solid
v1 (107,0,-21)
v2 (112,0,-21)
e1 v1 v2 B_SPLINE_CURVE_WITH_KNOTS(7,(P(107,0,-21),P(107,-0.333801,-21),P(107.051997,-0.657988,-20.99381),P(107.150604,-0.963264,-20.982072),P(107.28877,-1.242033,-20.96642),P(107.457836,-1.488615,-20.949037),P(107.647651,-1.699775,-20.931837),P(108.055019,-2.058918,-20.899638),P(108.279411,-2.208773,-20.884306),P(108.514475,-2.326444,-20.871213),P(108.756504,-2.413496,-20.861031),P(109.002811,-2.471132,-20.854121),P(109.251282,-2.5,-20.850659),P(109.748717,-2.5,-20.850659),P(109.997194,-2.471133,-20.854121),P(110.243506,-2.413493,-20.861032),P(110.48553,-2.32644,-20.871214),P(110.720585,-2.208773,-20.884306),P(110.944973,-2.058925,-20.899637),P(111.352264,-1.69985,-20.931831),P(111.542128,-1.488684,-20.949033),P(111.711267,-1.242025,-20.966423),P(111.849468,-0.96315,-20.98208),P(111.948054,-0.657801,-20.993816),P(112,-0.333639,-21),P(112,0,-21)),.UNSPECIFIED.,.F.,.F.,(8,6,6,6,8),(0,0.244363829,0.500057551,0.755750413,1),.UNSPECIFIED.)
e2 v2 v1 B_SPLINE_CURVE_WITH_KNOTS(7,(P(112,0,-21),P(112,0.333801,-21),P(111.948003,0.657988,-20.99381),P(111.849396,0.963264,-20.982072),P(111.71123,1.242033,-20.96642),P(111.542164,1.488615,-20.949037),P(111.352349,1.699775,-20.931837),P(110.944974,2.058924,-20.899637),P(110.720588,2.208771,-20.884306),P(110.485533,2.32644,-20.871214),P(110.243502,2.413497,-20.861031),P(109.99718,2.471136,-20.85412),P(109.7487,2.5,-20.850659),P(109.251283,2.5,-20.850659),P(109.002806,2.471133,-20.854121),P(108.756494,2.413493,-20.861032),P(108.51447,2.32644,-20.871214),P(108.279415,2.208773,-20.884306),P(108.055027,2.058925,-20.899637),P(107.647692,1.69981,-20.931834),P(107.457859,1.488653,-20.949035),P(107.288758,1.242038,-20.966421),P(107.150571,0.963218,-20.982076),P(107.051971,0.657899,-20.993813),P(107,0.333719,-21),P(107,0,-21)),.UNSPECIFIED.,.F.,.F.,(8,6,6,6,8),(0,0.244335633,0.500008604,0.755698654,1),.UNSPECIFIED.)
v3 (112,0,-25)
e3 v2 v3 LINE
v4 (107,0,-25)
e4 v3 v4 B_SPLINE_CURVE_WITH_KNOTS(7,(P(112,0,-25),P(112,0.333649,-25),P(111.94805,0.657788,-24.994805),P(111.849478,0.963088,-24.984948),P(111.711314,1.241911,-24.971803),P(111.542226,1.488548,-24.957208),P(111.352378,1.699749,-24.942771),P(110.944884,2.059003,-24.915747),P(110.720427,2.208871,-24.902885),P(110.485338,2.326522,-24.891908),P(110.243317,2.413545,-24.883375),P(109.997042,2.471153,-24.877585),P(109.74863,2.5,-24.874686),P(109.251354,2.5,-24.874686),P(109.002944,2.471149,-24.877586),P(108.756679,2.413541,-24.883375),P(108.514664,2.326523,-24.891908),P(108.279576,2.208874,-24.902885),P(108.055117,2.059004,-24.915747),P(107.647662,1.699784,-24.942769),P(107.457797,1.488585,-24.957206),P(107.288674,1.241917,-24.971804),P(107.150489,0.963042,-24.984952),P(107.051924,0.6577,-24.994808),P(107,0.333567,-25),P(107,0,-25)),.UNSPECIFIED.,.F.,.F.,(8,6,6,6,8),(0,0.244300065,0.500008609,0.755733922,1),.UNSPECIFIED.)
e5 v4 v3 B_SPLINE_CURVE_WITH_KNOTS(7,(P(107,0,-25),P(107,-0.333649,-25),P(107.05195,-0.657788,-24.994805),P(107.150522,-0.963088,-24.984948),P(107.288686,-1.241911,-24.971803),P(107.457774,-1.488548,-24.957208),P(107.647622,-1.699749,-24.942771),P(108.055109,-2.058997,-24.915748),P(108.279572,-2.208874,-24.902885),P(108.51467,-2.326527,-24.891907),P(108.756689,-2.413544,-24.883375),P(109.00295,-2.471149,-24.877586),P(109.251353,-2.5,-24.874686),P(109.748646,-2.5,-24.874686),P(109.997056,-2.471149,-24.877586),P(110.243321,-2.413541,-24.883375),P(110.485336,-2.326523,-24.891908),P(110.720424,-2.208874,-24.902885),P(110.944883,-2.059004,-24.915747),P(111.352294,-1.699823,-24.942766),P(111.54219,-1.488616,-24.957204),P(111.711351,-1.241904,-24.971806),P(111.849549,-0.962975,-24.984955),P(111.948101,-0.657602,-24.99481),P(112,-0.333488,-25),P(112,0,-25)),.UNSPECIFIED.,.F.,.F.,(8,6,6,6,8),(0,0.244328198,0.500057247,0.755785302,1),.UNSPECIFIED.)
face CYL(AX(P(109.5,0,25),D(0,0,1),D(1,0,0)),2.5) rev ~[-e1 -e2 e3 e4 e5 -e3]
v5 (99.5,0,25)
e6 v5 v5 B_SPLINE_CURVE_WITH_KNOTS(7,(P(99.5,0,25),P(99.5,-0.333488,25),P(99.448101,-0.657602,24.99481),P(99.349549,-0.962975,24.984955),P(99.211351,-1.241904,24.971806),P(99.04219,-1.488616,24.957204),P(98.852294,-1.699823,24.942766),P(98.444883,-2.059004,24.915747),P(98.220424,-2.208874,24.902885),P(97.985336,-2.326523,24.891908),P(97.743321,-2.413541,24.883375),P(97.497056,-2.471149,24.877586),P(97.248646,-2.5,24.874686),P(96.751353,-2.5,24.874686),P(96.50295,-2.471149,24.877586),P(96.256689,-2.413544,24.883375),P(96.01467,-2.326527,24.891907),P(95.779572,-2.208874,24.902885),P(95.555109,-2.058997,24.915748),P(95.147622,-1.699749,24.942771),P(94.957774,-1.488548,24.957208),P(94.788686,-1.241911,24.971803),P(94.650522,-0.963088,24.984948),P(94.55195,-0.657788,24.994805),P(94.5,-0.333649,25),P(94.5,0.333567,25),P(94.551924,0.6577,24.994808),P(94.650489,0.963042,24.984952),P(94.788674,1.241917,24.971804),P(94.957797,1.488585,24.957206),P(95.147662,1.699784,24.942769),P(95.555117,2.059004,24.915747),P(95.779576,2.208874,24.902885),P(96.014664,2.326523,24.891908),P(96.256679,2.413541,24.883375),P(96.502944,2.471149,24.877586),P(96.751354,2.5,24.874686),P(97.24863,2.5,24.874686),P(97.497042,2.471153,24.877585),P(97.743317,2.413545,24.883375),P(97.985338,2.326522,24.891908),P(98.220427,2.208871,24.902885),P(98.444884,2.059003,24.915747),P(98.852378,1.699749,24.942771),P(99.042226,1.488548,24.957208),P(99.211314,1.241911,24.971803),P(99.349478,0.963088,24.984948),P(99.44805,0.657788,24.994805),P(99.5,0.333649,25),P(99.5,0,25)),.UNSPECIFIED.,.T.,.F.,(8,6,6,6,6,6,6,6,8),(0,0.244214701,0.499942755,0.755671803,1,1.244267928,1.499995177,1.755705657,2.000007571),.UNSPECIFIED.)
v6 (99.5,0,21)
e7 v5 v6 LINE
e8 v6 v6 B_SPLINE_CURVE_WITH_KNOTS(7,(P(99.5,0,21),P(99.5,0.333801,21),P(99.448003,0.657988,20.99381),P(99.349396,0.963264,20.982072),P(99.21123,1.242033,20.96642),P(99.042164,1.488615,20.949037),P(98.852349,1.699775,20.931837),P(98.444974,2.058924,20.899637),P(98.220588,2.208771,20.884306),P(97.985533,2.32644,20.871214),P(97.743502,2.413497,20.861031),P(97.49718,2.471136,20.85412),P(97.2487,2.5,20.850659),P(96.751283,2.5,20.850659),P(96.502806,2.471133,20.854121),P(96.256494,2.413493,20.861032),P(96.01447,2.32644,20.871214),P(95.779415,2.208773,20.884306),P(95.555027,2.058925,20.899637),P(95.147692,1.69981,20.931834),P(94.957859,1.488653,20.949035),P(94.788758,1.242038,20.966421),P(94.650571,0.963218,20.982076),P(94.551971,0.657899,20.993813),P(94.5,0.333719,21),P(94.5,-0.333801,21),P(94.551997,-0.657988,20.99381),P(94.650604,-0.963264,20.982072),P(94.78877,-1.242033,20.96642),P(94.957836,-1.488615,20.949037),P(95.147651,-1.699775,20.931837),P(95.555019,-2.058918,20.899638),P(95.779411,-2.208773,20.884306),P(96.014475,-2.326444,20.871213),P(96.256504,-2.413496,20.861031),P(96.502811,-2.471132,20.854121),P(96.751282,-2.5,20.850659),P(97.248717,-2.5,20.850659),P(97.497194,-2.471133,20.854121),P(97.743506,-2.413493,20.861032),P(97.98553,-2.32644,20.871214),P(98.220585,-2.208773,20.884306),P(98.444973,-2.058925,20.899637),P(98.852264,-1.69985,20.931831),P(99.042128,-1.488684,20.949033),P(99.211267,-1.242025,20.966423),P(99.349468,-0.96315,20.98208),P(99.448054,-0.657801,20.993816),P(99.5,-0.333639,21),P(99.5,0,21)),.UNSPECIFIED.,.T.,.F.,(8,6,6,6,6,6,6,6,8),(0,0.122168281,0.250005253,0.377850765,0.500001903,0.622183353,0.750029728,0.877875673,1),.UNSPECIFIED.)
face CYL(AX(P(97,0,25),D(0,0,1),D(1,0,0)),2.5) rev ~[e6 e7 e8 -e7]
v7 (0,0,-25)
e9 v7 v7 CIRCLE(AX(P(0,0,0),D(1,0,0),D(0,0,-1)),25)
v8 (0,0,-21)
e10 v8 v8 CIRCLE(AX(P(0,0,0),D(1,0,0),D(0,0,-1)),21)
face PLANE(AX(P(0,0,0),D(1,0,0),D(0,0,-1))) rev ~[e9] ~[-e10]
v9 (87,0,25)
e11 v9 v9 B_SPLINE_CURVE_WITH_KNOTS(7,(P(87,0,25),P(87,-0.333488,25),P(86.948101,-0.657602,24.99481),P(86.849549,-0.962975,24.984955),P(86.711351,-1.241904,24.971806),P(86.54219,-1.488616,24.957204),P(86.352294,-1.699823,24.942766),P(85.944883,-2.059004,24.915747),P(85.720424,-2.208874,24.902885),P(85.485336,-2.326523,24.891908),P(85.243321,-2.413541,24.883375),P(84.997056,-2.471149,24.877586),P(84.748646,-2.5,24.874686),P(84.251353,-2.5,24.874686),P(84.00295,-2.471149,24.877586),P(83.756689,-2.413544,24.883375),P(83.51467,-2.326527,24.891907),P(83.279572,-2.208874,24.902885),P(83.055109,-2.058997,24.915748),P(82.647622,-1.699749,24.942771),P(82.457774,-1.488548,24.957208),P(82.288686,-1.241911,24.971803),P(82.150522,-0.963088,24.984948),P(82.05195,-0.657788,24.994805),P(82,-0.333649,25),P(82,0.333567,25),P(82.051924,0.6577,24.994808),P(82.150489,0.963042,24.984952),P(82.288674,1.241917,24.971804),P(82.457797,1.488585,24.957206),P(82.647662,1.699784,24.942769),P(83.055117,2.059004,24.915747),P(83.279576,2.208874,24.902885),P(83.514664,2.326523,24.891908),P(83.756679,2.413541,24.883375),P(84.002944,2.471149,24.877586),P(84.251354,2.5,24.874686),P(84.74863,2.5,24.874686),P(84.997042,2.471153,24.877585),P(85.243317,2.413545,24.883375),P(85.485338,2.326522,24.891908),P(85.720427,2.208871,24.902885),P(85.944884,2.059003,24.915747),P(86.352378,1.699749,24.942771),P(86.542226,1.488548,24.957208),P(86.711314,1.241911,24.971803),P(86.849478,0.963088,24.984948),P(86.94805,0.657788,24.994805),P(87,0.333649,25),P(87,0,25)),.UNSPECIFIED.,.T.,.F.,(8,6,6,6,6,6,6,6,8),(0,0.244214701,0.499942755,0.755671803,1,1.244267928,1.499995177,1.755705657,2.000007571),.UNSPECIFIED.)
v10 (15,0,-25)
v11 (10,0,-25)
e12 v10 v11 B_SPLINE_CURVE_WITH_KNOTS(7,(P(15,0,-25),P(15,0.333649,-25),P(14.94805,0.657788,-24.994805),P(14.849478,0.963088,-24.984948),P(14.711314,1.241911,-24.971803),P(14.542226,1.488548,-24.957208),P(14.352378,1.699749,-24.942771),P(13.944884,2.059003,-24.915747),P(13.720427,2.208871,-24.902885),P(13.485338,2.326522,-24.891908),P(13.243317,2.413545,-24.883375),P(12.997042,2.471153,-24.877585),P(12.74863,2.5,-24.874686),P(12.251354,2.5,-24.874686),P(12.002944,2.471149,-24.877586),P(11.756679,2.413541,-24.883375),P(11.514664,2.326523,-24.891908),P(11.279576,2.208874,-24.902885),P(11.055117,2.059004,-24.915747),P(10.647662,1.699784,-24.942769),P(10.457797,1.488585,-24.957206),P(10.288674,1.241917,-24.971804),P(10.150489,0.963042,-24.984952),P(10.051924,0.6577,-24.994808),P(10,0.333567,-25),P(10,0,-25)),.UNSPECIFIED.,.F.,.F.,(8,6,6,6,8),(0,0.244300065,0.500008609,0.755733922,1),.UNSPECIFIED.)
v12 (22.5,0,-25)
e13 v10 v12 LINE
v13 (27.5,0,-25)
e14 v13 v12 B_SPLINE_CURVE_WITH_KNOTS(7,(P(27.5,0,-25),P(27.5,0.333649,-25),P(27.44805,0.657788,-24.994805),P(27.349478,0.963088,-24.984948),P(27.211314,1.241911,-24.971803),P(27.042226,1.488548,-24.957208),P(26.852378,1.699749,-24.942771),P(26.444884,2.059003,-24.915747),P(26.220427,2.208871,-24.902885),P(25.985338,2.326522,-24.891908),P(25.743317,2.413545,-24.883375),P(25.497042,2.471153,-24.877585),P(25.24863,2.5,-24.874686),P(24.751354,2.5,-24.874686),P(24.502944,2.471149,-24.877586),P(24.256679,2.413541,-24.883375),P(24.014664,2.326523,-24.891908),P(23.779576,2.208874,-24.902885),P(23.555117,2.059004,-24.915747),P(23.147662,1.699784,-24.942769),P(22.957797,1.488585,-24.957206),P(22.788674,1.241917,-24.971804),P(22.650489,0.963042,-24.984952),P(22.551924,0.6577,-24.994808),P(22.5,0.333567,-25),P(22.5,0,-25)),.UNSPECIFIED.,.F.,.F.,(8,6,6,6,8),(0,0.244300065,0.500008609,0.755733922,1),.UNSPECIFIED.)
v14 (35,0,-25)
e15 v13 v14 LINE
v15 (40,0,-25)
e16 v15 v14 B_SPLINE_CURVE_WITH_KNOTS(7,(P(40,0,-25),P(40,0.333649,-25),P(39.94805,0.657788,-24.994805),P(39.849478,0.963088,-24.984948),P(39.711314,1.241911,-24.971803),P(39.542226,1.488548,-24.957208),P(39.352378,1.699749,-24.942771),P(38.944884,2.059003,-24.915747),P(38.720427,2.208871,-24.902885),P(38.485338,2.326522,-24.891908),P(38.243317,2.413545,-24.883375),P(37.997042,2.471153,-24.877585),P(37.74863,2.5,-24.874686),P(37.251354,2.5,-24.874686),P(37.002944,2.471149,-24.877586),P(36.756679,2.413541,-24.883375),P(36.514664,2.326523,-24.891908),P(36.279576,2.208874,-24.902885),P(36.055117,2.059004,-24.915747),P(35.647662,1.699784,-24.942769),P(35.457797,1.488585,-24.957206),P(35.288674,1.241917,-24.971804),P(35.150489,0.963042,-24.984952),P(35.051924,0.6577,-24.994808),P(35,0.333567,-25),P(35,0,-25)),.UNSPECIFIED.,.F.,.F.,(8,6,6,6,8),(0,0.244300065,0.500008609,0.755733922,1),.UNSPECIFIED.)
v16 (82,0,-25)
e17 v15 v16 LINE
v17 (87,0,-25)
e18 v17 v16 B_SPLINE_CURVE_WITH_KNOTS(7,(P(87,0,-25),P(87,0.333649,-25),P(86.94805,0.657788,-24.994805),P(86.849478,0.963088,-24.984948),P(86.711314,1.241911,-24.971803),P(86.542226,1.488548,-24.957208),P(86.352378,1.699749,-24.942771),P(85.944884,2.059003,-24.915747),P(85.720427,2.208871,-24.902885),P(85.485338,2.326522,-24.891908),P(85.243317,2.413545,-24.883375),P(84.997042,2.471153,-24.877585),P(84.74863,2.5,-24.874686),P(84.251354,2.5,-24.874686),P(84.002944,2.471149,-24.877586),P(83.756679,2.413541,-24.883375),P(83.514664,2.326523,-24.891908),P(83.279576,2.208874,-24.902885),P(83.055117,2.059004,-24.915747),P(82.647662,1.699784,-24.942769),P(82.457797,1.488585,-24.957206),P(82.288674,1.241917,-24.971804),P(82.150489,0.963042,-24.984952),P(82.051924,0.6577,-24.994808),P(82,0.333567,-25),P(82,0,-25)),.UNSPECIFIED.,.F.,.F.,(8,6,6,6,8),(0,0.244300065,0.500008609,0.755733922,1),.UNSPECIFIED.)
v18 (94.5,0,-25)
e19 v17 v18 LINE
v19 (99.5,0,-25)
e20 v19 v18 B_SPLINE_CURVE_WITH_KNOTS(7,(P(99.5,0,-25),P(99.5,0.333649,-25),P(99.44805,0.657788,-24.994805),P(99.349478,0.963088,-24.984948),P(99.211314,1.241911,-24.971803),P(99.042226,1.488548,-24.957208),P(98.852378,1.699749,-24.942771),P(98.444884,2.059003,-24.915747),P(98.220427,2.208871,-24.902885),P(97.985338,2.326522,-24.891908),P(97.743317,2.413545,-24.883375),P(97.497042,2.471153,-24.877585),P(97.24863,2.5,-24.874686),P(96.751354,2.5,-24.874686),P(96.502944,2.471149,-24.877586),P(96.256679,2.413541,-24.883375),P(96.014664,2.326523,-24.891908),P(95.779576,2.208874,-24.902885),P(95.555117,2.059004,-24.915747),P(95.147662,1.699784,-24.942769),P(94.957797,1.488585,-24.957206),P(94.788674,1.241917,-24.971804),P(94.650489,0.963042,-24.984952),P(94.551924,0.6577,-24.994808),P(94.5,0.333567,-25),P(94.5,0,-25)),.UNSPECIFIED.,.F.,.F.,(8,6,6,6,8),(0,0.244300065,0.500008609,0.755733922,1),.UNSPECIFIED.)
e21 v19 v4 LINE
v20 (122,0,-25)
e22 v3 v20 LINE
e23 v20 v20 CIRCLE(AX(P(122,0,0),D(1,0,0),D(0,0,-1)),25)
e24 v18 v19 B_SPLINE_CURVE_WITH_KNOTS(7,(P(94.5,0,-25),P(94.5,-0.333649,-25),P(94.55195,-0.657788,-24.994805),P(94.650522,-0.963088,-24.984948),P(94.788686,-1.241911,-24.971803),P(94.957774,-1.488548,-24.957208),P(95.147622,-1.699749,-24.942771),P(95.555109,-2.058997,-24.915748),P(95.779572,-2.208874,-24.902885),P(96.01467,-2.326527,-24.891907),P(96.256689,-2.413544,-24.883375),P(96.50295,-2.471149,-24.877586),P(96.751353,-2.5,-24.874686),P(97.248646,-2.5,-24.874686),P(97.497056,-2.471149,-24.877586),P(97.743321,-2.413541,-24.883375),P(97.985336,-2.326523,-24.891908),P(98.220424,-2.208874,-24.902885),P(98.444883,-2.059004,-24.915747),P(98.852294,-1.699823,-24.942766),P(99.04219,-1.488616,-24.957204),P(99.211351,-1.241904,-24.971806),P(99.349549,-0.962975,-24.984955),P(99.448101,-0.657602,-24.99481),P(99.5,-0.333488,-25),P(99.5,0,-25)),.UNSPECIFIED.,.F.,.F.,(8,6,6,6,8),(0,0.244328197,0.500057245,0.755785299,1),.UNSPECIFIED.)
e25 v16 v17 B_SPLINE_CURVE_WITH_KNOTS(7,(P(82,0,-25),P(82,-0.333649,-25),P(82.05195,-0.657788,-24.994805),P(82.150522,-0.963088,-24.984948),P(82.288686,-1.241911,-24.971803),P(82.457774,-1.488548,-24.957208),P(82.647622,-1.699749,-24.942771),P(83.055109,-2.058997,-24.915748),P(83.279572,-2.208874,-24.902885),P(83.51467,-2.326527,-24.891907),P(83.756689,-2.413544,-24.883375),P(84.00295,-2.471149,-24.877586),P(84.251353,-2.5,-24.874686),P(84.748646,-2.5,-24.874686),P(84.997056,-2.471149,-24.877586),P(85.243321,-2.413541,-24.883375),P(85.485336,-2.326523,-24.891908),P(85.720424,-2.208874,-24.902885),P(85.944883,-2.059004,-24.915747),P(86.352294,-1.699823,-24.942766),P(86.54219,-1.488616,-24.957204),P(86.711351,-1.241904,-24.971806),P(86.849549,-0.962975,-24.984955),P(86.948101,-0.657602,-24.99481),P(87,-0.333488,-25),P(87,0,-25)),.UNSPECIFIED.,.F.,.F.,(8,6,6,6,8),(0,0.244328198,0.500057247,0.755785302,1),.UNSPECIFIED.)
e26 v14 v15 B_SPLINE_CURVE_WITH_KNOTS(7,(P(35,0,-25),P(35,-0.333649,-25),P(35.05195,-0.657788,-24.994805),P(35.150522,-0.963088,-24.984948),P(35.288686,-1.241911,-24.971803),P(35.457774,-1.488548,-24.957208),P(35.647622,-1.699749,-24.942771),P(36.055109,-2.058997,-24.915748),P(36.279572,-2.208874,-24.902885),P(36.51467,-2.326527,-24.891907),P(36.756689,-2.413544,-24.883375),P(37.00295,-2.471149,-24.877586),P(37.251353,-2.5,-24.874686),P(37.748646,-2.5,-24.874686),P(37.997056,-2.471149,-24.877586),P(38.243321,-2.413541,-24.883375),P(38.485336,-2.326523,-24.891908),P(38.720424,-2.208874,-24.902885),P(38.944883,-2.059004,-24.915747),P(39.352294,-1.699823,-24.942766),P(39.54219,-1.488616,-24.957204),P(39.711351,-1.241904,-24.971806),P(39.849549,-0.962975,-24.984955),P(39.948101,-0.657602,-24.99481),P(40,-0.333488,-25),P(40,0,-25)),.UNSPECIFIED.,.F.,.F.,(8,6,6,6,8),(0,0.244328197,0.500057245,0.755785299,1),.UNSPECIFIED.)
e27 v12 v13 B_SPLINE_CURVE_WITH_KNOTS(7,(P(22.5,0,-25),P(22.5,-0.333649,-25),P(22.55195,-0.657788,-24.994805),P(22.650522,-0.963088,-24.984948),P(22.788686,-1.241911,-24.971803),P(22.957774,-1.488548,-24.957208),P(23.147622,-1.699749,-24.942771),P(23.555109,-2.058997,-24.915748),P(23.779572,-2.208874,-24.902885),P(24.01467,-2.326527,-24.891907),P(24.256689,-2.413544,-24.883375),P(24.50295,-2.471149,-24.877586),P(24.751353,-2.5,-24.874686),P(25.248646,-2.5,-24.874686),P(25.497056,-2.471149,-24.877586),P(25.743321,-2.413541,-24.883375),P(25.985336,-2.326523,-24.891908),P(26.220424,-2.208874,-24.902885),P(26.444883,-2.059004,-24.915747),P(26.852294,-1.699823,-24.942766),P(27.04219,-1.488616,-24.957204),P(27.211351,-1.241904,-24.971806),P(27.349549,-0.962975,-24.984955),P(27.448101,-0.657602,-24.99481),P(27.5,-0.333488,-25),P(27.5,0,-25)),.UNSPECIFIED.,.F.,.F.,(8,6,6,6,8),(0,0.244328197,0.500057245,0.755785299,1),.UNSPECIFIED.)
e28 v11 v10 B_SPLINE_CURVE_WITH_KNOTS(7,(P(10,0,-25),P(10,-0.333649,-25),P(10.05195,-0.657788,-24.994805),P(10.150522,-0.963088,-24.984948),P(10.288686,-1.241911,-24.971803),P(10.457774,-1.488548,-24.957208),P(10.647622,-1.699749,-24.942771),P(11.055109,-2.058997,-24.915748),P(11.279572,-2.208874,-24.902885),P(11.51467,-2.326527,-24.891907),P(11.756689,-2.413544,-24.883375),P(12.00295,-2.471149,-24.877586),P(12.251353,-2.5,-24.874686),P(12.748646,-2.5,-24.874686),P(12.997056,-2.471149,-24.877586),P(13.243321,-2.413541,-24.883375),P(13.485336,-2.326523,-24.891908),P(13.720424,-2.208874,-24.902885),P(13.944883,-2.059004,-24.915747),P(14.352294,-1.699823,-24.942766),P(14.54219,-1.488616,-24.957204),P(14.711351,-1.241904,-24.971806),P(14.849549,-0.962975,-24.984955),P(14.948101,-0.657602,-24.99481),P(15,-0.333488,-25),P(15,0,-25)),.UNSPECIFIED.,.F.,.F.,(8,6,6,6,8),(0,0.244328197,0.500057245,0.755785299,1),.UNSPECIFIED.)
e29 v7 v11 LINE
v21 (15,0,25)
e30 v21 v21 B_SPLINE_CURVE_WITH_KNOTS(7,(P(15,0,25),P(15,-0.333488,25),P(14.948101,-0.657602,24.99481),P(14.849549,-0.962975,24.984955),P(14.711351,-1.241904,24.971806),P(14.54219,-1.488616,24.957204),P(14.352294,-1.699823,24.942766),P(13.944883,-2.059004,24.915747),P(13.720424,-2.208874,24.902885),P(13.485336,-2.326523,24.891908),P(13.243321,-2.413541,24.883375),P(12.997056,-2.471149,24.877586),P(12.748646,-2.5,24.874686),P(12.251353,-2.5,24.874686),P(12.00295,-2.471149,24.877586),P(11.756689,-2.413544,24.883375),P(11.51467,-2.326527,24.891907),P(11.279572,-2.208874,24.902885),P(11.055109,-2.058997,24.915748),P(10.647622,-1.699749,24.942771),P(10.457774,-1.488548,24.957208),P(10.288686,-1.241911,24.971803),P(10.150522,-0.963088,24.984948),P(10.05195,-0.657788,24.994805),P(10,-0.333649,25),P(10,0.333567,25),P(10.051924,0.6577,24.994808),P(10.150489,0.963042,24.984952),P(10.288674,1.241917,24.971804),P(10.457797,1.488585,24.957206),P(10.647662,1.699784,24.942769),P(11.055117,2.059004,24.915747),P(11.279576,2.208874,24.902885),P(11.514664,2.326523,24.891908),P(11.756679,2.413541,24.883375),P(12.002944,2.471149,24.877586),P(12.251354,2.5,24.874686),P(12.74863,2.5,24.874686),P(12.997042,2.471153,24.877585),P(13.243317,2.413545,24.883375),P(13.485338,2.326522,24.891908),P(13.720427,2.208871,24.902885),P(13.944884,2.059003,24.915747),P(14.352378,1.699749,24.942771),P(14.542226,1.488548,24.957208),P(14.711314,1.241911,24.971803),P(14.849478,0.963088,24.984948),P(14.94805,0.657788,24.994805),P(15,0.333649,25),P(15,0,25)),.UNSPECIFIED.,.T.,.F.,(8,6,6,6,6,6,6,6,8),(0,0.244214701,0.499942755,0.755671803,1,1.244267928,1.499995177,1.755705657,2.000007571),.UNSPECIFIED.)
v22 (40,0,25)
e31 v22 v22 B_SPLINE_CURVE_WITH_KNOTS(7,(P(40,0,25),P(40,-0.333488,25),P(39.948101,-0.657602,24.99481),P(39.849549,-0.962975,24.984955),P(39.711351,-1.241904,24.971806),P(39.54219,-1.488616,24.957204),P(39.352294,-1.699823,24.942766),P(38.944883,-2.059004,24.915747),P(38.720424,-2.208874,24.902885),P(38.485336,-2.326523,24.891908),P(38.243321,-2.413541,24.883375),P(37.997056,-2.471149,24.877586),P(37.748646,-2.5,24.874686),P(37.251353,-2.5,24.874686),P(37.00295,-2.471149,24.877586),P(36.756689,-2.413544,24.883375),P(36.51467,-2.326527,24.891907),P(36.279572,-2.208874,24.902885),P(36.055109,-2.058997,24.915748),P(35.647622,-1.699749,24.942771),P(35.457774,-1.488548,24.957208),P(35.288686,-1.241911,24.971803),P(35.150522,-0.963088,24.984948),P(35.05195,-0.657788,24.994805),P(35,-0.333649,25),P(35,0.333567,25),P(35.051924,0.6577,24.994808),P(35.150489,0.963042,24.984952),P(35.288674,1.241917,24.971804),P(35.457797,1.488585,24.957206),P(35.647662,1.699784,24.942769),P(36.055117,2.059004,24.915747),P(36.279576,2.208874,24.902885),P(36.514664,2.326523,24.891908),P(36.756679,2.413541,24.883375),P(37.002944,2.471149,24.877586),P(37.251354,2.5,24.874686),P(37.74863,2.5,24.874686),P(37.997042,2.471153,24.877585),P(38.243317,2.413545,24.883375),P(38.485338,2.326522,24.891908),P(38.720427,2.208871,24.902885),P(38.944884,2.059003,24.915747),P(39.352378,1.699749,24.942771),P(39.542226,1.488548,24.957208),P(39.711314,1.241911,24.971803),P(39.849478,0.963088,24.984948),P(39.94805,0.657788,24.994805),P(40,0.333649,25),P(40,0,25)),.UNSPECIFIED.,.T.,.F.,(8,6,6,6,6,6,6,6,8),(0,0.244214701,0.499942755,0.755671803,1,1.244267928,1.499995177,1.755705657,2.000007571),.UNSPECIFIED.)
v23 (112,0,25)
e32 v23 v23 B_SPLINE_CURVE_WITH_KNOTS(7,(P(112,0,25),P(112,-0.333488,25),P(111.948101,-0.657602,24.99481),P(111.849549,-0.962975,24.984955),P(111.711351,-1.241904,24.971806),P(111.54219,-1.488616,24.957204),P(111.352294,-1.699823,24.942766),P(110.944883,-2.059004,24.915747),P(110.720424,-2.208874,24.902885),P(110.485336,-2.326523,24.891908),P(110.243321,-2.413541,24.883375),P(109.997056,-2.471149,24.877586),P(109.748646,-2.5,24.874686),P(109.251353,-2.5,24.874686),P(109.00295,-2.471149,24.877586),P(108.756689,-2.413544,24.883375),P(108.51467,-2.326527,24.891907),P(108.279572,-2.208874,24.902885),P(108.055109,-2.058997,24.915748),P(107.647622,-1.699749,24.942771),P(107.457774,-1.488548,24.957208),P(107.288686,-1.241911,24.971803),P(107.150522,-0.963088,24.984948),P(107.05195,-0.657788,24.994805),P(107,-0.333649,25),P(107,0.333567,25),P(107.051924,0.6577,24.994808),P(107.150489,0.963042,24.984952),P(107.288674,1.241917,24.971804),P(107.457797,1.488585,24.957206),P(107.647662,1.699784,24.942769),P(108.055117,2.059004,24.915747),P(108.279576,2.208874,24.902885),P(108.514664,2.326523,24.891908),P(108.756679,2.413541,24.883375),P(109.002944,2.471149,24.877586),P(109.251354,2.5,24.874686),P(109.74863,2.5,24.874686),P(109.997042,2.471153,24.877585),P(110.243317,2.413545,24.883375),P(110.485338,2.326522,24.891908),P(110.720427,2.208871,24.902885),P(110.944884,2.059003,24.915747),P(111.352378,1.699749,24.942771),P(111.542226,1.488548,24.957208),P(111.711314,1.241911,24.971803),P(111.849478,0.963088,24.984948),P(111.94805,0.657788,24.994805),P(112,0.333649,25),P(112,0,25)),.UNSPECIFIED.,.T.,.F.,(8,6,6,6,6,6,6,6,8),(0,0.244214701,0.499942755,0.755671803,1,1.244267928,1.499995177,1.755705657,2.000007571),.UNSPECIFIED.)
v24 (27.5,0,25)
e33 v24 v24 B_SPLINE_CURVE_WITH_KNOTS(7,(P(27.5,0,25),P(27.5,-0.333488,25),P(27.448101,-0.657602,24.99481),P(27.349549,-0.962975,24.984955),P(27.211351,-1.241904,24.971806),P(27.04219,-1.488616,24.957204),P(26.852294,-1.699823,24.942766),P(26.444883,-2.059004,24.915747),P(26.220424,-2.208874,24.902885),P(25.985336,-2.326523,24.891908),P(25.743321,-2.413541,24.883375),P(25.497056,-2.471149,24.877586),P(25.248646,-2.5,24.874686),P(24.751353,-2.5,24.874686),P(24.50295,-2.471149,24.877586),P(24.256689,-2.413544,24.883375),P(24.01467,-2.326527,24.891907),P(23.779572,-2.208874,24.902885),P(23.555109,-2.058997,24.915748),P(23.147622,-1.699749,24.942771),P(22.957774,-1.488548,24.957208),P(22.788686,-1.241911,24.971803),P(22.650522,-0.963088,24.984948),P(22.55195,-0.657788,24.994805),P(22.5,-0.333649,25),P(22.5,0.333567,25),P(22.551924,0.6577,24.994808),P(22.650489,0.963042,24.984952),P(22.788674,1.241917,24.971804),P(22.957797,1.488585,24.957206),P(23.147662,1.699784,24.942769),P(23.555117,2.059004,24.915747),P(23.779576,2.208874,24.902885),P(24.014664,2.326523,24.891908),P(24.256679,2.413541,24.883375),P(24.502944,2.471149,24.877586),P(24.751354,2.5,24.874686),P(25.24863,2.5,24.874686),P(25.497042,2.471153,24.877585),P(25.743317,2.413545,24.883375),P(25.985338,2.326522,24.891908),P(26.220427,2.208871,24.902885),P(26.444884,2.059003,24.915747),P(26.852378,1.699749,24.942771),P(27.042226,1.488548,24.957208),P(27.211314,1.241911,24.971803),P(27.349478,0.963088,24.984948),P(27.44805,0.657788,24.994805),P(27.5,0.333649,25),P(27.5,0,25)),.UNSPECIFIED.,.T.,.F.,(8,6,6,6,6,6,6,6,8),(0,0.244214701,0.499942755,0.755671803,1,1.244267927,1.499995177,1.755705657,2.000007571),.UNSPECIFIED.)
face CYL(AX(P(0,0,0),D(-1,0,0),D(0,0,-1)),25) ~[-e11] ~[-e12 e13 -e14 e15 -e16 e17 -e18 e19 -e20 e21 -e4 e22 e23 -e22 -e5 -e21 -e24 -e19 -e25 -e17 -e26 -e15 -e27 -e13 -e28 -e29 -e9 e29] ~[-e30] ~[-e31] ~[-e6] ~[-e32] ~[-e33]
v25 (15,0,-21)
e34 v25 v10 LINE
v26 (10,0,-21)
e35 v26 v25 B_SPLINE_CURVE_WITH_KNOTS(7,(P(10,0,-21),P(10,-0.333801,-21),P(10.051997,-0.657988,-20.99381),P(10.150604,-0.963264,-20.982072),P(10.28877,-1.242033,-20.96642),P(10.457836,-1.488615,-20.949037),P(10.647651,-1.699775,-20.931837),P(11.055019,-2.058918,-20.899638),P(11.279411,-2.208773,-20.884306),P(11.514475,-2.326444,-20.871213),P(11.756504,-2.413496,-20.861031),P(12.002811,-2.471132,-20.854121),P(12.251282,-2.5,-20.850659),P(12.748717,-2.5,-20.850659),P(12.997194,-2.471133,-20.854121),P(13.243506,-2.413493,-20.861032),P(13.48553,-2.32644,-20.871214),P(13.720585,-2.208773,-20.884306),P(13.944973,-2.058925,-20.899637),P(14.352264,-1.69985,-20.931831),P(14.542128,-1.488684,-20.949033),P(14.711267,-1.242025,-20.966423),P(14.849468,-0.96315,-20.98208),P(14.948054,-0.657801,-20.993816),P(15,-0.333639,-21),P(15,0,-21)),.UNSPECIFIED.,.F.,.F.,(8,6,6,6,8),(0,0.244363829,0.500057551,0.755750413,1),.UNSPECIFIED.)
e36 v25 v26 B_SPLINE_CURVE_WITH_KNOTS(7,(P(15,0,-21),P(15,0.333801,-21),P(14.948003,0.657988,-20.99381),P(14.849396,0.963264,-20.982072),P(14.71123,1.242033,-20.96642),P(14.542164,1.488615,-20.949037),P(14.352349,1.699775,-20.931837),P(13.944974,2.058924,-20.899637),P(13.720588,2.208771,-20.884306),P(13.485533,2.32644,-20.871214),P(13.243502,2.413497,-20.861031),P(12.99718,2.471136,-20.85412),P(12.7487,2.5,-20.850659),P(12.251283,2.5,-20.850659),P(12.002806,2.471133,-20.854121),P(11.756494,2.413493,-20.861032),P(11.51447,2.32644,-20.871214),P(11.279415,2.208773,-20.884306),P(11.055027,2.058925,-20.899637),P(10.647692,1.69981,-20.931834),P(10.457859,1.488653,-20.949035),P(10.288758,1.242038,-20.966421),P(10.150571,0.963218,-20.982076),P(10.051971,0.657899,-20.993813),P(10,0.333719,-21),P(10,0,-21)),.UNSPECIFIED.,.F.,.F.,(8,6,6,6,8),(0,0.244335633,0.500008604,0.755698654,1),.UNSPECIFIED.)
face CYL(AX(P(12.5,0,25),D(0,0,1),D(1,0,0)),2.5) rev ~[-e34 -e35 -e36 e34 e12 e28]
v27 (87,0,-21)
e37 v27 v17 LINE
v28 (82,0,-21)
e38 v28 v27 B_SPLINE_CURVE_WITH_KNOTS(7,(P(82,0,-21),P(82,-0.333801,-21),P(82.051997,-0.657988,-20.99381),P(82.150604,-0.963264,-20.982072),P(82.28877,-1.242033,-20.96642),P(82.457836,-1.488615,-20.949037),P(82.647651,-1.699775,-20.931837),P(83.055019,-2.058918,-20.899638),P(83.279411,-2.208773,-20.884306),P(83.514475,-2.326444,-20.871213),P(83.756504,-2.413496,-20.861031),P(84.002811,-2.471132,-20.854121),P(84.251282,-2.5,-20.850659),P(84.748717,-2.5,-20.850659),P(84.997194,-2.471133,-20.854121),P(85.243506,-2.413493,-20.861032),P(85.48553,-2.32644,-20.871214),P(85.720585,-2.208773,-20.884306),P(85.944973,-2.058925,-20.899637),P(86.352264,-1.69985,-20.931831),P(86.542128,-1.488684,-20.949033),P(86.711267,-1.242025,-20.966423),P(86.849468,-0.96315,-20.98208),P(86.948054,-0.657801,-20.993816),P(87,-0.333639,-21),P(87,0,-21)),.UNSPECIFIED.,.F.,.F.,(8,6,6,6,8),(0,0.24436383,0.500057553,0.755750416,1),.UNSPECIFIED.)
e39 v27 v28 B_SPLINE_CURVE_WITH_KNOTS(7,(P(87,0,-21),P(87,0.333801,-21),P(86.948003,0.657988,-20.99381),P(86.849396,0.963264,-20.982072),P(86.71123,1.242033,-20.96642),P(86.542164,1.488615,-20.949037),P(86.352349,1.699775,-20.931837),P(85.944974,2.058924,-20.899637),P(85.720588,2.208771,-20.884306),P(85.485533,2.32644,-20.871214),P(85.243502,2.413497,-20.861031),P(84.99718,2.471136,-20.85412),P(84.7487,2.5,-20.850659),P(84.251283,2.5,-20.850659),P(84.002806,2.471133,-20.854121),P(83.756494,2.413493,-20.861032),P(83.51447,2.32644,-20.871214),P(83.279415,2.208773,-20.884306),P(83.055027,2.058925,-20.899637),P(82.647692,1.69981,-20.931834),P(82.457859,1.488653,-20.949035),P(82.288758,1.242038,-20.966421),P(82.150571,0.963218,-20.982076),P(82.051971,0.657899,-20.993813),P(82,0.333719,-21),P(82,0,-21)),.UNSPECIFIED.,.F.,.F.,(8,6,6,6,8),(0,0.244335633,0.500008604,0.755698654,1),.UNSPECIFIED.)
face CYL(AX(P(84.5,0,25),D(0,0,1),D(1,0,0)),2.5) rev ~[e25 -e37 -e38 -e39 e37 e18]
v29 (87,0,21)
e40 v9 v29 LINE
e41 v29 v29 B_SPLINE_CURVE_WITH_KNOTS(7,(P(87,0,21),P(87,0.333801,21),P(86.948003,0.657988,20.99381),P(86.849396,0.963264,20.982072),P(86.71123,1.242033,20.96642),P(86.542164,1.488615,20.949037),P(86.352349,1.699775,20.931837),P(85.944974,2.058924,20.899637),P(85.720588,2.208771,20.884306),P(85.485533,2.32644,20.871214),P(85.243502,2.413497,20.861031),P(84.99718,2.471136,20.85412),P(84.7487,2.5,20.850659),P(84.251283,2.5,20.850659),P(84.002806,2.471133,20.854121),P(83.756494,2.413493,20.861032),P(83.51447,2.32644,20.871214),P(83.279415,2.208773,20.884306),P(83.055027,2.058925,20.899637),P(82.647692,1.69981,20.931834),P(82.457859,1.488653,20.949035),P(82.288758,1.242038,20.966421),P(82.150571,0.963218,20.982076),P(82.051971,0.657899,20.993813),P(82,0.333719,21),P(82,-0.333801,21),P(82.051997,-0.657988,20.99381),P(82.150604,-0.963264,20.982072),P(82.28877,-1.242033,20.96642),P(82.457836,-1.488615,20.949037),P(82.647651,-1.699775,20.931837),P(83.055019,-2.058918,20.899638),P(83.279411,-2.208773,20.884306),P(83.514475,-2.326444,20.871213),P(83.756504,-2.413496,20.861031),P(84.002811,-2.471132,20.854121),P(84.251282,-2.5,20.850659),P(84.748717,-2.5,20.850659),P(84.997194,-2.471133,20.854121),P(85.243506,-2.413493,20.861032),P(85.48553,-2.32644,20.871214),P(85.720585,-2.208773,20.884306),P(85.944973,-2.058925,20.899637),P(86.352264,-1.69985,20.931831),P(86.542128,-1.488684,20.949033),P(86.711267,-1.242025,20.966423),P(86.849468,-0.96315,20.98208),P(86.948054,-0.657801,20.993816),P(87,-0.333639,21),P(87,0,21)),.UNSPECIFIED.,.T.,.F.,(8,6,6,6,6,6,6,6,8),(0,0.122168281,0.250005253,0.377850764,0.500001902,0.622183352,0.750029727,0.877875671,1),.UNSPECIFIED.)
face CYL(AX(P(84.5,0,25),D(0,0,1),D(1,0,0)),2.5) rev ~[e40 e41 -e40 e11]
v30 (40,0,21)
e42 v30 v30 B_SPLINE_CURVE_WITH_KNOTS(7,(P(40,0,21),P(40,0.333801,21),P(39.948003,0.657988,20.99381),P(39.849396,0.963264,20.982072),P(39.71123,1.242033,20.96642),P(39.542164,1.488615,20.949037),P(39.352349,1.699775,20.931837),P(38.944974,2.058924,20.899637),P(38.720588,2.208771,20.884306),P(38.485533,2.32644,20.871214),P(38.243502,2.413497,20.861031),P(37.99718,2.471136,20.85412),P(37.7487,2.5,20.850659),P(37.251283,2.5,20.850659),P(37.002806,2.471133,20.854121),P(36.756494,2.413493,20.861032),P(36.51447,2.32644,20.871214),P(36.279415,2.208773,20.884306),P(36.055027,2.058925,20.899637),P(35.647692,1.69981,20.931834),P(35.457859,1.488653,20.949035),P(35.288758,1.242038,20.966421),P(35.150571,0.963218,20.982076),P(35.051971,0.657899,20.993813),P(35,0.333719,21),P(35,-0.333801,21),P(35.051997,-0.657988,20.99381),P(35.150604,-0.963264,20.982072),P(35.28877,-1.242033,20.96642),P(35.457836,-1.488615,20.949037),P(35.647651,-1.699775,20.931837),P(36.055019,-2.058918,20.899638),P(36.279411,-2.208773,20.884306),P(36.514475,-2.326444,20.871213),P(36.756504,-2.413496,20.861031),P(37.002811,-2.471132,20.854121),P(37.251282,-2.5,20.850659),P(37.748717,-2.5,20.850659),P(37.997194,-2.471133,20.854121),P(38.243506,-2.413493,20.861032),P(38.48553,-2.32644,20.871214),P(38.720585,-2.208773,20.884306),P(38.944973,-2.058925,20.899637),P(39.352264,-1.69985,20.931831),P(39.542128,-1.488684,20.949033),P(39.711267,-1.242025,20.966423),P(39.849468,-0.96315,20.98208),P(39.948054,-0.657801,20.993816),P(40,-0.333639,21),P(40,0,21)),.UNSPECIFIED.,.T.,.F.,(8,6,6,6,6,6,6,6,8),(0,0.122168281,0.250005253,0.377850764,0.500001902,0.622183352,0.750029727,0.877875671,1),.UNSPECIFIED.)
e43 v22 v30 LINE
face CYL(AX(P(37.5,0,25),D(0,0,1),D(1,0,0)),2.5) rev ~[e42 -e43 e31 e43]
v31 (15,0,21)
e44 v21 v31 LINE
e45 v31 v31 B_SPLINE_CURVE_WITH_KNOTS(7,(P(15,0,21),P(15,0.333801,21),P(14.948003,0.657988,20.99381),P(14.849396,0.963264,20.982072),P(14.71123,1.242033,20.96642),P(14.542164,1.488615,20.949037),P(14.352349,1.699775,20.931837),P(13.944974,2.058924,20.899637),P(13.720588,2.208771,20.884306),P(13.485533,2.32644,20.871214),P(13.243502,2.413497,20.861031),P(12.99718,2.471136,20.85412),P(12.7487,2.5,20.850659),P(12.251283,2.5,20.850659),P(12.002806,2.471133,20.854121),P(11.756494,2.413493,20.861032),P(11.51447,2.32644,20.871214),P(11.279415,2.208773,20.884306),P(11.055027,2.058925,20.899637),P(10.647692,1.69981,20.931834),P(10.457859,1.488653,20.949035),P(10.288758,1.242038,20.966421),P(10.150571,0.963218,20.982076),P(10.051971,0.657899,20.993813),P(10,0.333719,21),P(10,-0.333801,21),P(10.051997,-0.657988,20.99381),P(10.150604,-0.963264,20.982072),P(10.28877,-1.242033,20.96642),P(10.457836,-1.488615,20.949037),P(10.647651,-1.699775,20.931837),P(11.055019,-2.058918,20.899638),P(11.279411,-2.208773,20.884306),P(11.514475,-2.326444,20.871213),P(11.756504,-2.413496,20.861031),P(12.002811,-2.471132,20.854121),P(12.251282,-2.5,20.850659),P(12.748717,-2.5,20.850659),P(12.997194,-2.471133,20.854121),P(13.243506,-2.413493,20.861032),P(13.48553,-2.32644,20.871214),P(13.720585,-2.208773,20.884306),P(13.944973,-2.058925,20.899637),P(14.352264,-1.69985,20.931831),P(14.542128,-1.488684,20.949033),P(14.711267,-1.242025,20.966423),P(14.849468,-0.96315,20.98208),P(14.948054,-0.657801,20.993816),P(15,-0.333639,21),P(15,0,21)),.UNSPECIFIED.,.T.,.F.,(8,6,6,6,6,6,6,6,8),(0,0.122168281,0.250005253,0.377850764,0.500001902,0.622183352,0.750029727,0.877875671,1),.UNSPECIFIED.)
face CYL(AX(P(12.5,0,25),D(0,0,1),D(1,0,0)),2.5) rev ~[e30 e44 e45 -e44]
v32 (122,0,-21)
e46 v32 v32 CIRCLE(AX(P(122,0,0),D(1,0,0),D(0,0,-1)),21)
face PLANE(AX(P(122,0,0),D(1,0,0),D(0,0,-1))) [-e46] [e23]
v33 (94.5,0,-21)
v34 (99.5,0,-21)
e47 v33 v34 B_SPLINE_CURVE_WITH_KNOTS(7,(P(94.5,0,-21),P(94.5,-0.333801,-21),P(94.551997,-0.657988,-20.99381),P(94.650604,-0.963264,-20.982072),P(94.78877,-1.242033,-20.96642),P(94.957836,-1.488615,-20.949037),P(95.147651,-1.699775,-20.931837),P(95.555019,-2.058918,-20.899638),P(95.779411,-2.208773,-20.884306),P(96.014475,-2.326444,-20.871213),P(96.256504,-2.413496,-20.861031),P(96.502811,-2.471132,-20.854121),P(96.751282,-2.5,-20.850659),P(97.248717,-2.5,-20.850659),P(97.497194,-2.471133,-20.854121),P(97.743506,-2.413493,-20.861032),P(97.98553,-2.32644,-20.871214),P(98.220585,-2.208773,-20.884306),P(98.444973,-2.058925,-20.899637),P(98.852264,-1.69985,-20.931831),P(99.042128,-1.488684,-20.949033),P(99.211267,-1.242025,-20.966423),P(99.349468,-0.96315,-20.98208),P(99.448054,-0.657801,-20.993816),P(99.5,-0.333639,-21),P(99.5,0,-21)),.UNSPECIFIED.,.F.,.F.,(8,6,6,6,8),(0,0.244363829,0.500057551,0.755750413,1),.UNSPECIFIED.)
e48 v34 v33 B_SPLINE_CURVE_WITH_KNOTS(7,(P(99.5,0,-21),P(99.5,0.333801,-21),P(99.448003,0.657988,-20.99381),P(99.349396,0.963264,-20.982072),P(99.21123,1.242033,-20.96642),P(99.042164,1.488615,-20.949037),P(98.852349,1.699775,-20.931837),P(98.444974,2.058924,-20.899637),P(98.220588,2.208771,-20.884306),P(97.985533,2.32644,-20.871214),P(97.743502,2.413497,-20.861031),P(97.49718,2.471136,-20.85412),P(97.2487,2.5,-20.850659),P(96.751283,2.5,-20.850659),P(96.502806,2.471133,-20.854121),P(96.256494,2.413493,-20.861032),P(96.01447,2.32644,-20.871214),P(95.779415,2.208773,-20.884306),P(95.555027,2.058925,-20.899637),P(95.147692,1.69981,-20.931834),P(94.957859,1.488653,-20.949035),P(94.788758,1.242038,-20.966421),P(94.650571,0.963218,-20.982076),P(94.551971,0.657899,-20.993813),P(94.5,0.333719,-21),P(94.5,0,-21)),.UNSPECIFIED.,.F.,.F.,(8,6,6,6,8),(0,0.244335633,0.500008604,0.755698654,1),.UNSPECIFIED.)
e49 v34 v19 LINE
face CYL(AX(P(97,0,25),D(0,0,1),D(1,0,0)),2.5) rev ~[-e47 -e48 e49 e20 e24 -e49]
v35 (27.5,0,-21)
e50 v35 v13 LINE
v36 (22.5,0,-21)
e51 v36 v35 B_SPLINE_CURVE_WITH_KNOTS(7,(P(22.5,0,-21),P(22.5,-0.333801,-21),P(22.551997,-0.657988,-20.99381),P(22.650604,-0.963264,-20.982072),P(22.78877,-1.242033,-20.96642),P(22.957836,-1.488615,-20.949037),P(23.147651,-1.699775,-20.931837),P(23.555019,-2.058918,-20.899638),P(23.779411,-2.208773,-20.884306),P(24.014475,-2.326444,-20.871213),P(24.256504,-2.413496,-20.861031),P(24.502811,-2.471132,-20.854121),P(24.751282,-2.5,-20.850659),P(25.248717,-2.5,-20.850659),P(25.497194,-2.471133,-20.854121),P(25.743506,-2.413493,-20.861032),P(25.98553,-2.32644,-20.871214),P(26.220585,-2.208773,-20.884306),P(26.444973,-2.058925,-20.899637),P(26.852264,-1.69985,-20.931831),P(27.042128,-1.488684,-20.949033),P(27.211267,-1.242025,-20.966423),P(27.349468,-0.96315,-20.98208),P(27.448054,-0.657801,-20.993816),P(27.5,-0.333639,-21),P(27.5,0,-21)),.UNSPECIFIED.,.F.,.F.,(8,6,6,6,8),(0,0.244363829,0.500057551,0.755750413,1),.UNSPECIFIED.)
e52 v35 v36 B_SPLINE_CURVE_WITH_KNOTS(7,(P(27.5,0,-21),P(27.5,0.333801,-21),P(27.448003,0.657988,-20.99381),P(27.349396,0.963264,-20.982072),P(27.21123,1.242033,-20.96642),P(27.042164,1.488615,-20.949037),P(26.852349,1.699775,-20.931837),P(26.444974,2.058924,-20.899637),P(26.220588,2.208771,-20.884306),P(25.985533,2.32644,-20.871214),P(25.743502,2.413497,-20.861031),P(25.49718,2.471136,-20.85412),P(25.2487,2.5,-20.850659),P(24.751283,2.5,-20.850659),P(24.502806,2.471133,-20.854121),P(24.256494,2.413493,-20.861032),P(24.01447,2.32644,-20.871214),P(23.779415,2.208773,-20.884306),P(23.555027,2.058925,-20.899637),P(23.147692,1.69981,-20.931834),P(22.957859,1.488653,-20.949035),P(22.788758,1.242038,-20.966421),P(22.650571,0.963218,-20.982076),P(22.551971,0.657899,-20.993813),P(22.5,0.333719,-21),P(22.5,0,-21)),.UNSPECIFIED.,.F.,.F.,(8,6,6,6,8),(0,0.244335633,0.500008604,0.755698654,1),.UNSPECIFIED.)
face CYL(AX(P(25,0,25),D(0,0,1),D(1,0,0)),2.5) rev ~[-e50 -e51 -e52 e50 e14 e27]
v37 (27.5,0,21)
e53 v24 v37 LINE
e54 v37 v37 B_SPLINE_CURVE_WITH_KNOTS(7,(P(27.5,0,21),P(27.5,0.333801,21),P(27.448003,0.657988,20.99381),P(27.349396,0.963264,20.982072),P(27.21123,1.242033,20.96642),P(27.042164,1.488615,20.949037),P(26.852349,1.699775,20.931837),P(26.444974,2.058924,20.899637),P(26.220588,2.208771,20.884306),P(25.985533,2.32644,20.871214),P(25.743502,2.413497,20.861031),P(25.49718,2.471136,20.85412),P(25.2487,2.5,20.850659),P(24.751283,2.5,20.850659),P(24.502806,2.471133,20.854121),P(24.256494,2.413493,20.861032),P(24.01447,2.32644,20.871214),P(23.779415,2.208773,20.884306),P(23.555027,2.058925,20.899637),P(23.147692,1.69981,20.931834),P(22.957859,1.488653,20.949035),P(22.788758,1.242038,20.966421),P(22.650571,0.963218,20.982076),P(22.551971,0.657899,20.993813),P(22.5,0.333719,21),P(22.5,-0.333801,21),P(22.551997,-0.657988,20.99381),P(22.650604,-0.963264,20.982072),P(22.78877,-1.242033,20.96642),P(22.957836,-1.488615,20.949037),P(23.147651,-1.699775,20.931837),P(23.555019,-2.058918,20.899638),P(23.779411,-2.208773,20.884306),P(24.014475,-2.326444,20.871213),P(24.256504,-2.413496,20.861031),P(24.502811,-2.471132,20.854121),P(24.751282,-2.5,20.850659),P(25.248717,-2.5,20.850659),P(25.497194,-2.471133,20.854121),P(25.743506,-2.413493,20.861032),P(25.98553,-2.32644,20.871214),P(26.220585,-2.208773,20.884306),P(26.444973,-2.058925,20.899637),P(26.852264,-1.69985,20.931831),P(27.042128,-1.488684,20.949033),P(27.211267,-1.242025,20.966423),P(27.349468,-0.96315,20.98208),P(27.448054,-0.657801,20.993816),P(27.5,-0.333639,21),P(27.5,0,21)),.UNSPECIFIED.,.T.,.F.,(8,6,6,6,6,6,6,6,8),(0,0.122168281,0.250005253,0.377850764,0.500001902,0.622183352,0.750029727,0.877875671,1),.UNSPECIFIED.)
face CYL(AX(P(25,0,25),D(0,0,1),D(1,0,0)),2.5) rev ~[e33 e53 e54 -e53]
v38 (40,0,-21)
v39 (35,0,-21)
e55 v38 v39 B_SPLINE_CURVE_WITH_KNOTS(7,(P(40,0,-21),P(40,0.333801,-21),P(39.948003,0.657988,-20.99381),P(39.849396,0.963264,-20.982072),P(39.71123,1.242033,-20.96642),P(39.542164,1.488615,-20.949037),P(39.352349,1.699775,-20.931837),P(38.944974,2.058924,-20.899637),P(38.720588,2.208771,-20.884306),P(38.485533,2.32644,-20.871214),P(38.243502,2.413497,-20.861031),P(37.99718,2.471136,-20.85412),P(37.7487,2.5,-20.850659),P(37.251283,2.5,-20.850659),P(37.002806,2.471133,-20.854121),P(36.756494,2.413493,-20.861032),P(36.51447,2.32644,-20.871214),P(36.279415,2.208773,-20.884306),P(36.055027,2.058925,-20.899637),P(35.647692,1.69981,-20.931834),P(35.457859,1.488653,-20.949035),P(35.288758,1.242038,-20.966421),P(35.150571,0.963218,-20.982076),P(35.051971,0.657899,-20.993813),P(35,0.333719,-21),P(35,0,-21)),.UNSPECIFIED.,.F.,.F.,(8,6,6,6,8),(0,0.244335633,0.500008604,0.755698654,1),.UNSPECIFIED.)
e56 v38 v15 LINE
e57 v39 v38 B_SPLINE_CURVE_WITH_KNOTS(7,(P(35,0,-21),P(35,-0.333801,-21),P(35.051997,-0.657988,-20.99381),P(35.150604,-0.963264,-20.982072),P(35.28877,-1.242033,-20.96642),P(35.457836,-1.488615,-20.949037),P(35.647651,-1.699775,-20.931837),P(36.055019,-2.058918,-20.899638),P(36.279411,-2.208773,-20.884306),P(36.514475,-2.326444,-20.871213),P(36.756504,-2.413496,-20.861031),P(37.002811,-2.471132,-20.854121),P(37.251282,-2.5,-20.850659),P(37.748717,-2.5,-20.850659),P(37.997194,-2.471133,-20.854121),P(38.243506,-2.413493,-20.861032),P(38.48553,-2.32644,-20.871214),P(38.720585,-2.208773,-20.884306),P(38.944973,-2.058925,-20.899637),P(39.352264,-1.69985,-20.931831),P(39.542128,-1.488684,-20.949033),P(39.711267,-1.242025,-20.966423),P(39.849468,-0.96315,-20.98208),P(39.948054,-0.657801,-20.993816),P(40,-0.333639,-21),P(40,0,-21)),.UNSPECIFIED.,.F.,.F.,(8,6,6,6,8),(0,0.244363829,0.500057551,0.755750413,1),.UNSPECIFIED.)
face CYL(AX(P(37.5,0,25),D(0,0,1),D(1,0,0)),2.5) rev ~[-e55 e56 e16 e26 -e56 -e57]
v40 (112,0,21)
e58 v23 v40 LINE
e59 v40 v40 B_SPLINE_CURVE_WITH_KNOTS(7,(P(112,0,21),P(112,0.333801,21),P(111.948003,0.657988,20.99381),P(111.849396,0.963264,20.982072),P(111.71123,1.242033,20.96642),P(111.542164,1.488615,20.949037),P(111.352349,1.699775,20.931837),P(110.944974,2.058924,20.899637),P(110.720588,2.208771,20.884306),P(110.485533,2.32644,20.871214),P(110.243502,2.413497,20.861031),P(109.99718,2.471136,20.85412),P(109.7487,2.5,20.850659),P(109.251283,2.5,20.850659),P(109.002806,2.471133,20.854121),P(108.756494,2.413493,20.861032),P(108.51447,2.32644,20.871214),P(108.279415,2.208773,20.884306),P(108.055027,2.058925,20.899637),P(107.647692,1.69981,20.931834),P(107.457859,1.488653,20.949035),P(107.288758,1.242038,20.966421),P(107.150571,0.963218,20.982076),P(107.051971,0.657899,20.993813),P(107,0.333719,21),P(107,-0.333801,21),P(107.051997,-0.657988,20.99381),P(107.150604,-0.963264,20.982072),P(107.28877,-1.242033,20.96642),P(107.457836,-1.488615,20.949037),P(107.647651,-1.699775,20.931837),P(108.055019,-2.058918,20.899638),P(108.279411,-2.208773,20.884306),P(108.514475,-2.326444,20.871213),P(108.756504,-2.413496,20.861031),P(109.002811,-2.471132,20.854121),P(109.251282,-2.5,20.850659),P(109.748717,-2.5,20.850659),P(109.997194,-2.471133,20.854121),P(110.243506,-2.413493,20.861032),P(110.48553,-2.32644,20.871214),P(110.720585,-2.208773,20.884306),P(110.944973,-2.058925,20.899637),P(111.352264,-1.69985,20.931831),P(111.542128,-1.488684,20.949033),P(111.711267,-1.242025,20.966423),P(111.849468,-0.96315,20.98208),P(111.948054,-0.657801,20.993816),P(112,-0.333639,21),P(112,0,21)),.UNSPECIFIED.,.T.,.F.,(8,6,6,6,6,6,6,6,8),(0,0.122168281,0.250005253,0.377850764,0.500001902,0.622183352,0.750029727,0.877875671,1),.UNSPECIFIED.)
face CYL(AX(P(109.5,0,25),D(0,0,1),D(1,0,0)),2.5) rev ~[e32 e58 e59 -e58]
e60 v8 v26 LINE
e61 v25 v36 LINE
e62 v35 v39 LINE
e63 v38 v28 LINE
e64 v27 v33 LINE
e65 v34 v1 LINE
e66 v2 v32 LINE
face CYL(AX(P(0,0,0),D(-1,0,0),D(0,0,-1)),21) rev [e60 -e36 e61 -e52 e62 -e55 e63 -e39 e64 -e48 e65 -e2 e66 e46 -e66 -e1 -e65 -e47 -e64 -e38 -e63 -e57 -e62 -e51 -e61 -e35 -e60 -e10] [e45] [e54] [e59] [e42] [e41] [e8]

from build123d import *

# Parameters (mm, degrees)
SKETCH_2_R               = 25
SKETCH_2_R_2             = 21
EXTRUDE_2_DEPTH          = 122
SKETCH_4_R               = 2.5
CUT_EXTRUDE_2_DEPTH      = 10
CUT_EXTRUDE_2_DEPTH_BACK = 51


with BuildPart() as part:
    # Эскиз2 → Бобышка-Вытянуть2 (new body)
    with BuildSketch(Plane(origin=(0, 0, 0), x_dir=(0, 0, -1), z_dir=(1, 0, 0))):
        Circle(SKETCH_2_R)
        Circle(SKETCH_2_R_2, mode=Mode.SUBTRACT)
    extrude(amount=EXTRUDE_2_DEPTH)

    # Эскиз4 → Вырез-Вытянуть2 (cut, two sides)
    with BuildSketch(Plane.XY.offset(25)) as cut_extrude_2_sk:
        with Locations((12.5, 0)):
            Circle(SKETCH_4_R)
        with Locations((109.5, 0)):
            Circle(SKETCH_4_R)
        with Locations((25, 0)):
            Circle(SKETCH_4_R)
        with Locations((37.5, 0)):
            Circle(SKETCH_4_R)
        with Locations((97, 0)):
            Circle(SKETCH_4_R)
        with Locations((84.5, 0)):
            Circle(SKETCH_4_R)
    extrude(amount=CUT_EXTRUDE_2_DEPTH, mode=Mode.SUBTRACT)
    extrude(cut_extrude_2_sk.sketch, amount=-CUT_EXTRUDE_2_DEPTH_BACK, mode=Mode.SUBTRACT)


solid = part.part
